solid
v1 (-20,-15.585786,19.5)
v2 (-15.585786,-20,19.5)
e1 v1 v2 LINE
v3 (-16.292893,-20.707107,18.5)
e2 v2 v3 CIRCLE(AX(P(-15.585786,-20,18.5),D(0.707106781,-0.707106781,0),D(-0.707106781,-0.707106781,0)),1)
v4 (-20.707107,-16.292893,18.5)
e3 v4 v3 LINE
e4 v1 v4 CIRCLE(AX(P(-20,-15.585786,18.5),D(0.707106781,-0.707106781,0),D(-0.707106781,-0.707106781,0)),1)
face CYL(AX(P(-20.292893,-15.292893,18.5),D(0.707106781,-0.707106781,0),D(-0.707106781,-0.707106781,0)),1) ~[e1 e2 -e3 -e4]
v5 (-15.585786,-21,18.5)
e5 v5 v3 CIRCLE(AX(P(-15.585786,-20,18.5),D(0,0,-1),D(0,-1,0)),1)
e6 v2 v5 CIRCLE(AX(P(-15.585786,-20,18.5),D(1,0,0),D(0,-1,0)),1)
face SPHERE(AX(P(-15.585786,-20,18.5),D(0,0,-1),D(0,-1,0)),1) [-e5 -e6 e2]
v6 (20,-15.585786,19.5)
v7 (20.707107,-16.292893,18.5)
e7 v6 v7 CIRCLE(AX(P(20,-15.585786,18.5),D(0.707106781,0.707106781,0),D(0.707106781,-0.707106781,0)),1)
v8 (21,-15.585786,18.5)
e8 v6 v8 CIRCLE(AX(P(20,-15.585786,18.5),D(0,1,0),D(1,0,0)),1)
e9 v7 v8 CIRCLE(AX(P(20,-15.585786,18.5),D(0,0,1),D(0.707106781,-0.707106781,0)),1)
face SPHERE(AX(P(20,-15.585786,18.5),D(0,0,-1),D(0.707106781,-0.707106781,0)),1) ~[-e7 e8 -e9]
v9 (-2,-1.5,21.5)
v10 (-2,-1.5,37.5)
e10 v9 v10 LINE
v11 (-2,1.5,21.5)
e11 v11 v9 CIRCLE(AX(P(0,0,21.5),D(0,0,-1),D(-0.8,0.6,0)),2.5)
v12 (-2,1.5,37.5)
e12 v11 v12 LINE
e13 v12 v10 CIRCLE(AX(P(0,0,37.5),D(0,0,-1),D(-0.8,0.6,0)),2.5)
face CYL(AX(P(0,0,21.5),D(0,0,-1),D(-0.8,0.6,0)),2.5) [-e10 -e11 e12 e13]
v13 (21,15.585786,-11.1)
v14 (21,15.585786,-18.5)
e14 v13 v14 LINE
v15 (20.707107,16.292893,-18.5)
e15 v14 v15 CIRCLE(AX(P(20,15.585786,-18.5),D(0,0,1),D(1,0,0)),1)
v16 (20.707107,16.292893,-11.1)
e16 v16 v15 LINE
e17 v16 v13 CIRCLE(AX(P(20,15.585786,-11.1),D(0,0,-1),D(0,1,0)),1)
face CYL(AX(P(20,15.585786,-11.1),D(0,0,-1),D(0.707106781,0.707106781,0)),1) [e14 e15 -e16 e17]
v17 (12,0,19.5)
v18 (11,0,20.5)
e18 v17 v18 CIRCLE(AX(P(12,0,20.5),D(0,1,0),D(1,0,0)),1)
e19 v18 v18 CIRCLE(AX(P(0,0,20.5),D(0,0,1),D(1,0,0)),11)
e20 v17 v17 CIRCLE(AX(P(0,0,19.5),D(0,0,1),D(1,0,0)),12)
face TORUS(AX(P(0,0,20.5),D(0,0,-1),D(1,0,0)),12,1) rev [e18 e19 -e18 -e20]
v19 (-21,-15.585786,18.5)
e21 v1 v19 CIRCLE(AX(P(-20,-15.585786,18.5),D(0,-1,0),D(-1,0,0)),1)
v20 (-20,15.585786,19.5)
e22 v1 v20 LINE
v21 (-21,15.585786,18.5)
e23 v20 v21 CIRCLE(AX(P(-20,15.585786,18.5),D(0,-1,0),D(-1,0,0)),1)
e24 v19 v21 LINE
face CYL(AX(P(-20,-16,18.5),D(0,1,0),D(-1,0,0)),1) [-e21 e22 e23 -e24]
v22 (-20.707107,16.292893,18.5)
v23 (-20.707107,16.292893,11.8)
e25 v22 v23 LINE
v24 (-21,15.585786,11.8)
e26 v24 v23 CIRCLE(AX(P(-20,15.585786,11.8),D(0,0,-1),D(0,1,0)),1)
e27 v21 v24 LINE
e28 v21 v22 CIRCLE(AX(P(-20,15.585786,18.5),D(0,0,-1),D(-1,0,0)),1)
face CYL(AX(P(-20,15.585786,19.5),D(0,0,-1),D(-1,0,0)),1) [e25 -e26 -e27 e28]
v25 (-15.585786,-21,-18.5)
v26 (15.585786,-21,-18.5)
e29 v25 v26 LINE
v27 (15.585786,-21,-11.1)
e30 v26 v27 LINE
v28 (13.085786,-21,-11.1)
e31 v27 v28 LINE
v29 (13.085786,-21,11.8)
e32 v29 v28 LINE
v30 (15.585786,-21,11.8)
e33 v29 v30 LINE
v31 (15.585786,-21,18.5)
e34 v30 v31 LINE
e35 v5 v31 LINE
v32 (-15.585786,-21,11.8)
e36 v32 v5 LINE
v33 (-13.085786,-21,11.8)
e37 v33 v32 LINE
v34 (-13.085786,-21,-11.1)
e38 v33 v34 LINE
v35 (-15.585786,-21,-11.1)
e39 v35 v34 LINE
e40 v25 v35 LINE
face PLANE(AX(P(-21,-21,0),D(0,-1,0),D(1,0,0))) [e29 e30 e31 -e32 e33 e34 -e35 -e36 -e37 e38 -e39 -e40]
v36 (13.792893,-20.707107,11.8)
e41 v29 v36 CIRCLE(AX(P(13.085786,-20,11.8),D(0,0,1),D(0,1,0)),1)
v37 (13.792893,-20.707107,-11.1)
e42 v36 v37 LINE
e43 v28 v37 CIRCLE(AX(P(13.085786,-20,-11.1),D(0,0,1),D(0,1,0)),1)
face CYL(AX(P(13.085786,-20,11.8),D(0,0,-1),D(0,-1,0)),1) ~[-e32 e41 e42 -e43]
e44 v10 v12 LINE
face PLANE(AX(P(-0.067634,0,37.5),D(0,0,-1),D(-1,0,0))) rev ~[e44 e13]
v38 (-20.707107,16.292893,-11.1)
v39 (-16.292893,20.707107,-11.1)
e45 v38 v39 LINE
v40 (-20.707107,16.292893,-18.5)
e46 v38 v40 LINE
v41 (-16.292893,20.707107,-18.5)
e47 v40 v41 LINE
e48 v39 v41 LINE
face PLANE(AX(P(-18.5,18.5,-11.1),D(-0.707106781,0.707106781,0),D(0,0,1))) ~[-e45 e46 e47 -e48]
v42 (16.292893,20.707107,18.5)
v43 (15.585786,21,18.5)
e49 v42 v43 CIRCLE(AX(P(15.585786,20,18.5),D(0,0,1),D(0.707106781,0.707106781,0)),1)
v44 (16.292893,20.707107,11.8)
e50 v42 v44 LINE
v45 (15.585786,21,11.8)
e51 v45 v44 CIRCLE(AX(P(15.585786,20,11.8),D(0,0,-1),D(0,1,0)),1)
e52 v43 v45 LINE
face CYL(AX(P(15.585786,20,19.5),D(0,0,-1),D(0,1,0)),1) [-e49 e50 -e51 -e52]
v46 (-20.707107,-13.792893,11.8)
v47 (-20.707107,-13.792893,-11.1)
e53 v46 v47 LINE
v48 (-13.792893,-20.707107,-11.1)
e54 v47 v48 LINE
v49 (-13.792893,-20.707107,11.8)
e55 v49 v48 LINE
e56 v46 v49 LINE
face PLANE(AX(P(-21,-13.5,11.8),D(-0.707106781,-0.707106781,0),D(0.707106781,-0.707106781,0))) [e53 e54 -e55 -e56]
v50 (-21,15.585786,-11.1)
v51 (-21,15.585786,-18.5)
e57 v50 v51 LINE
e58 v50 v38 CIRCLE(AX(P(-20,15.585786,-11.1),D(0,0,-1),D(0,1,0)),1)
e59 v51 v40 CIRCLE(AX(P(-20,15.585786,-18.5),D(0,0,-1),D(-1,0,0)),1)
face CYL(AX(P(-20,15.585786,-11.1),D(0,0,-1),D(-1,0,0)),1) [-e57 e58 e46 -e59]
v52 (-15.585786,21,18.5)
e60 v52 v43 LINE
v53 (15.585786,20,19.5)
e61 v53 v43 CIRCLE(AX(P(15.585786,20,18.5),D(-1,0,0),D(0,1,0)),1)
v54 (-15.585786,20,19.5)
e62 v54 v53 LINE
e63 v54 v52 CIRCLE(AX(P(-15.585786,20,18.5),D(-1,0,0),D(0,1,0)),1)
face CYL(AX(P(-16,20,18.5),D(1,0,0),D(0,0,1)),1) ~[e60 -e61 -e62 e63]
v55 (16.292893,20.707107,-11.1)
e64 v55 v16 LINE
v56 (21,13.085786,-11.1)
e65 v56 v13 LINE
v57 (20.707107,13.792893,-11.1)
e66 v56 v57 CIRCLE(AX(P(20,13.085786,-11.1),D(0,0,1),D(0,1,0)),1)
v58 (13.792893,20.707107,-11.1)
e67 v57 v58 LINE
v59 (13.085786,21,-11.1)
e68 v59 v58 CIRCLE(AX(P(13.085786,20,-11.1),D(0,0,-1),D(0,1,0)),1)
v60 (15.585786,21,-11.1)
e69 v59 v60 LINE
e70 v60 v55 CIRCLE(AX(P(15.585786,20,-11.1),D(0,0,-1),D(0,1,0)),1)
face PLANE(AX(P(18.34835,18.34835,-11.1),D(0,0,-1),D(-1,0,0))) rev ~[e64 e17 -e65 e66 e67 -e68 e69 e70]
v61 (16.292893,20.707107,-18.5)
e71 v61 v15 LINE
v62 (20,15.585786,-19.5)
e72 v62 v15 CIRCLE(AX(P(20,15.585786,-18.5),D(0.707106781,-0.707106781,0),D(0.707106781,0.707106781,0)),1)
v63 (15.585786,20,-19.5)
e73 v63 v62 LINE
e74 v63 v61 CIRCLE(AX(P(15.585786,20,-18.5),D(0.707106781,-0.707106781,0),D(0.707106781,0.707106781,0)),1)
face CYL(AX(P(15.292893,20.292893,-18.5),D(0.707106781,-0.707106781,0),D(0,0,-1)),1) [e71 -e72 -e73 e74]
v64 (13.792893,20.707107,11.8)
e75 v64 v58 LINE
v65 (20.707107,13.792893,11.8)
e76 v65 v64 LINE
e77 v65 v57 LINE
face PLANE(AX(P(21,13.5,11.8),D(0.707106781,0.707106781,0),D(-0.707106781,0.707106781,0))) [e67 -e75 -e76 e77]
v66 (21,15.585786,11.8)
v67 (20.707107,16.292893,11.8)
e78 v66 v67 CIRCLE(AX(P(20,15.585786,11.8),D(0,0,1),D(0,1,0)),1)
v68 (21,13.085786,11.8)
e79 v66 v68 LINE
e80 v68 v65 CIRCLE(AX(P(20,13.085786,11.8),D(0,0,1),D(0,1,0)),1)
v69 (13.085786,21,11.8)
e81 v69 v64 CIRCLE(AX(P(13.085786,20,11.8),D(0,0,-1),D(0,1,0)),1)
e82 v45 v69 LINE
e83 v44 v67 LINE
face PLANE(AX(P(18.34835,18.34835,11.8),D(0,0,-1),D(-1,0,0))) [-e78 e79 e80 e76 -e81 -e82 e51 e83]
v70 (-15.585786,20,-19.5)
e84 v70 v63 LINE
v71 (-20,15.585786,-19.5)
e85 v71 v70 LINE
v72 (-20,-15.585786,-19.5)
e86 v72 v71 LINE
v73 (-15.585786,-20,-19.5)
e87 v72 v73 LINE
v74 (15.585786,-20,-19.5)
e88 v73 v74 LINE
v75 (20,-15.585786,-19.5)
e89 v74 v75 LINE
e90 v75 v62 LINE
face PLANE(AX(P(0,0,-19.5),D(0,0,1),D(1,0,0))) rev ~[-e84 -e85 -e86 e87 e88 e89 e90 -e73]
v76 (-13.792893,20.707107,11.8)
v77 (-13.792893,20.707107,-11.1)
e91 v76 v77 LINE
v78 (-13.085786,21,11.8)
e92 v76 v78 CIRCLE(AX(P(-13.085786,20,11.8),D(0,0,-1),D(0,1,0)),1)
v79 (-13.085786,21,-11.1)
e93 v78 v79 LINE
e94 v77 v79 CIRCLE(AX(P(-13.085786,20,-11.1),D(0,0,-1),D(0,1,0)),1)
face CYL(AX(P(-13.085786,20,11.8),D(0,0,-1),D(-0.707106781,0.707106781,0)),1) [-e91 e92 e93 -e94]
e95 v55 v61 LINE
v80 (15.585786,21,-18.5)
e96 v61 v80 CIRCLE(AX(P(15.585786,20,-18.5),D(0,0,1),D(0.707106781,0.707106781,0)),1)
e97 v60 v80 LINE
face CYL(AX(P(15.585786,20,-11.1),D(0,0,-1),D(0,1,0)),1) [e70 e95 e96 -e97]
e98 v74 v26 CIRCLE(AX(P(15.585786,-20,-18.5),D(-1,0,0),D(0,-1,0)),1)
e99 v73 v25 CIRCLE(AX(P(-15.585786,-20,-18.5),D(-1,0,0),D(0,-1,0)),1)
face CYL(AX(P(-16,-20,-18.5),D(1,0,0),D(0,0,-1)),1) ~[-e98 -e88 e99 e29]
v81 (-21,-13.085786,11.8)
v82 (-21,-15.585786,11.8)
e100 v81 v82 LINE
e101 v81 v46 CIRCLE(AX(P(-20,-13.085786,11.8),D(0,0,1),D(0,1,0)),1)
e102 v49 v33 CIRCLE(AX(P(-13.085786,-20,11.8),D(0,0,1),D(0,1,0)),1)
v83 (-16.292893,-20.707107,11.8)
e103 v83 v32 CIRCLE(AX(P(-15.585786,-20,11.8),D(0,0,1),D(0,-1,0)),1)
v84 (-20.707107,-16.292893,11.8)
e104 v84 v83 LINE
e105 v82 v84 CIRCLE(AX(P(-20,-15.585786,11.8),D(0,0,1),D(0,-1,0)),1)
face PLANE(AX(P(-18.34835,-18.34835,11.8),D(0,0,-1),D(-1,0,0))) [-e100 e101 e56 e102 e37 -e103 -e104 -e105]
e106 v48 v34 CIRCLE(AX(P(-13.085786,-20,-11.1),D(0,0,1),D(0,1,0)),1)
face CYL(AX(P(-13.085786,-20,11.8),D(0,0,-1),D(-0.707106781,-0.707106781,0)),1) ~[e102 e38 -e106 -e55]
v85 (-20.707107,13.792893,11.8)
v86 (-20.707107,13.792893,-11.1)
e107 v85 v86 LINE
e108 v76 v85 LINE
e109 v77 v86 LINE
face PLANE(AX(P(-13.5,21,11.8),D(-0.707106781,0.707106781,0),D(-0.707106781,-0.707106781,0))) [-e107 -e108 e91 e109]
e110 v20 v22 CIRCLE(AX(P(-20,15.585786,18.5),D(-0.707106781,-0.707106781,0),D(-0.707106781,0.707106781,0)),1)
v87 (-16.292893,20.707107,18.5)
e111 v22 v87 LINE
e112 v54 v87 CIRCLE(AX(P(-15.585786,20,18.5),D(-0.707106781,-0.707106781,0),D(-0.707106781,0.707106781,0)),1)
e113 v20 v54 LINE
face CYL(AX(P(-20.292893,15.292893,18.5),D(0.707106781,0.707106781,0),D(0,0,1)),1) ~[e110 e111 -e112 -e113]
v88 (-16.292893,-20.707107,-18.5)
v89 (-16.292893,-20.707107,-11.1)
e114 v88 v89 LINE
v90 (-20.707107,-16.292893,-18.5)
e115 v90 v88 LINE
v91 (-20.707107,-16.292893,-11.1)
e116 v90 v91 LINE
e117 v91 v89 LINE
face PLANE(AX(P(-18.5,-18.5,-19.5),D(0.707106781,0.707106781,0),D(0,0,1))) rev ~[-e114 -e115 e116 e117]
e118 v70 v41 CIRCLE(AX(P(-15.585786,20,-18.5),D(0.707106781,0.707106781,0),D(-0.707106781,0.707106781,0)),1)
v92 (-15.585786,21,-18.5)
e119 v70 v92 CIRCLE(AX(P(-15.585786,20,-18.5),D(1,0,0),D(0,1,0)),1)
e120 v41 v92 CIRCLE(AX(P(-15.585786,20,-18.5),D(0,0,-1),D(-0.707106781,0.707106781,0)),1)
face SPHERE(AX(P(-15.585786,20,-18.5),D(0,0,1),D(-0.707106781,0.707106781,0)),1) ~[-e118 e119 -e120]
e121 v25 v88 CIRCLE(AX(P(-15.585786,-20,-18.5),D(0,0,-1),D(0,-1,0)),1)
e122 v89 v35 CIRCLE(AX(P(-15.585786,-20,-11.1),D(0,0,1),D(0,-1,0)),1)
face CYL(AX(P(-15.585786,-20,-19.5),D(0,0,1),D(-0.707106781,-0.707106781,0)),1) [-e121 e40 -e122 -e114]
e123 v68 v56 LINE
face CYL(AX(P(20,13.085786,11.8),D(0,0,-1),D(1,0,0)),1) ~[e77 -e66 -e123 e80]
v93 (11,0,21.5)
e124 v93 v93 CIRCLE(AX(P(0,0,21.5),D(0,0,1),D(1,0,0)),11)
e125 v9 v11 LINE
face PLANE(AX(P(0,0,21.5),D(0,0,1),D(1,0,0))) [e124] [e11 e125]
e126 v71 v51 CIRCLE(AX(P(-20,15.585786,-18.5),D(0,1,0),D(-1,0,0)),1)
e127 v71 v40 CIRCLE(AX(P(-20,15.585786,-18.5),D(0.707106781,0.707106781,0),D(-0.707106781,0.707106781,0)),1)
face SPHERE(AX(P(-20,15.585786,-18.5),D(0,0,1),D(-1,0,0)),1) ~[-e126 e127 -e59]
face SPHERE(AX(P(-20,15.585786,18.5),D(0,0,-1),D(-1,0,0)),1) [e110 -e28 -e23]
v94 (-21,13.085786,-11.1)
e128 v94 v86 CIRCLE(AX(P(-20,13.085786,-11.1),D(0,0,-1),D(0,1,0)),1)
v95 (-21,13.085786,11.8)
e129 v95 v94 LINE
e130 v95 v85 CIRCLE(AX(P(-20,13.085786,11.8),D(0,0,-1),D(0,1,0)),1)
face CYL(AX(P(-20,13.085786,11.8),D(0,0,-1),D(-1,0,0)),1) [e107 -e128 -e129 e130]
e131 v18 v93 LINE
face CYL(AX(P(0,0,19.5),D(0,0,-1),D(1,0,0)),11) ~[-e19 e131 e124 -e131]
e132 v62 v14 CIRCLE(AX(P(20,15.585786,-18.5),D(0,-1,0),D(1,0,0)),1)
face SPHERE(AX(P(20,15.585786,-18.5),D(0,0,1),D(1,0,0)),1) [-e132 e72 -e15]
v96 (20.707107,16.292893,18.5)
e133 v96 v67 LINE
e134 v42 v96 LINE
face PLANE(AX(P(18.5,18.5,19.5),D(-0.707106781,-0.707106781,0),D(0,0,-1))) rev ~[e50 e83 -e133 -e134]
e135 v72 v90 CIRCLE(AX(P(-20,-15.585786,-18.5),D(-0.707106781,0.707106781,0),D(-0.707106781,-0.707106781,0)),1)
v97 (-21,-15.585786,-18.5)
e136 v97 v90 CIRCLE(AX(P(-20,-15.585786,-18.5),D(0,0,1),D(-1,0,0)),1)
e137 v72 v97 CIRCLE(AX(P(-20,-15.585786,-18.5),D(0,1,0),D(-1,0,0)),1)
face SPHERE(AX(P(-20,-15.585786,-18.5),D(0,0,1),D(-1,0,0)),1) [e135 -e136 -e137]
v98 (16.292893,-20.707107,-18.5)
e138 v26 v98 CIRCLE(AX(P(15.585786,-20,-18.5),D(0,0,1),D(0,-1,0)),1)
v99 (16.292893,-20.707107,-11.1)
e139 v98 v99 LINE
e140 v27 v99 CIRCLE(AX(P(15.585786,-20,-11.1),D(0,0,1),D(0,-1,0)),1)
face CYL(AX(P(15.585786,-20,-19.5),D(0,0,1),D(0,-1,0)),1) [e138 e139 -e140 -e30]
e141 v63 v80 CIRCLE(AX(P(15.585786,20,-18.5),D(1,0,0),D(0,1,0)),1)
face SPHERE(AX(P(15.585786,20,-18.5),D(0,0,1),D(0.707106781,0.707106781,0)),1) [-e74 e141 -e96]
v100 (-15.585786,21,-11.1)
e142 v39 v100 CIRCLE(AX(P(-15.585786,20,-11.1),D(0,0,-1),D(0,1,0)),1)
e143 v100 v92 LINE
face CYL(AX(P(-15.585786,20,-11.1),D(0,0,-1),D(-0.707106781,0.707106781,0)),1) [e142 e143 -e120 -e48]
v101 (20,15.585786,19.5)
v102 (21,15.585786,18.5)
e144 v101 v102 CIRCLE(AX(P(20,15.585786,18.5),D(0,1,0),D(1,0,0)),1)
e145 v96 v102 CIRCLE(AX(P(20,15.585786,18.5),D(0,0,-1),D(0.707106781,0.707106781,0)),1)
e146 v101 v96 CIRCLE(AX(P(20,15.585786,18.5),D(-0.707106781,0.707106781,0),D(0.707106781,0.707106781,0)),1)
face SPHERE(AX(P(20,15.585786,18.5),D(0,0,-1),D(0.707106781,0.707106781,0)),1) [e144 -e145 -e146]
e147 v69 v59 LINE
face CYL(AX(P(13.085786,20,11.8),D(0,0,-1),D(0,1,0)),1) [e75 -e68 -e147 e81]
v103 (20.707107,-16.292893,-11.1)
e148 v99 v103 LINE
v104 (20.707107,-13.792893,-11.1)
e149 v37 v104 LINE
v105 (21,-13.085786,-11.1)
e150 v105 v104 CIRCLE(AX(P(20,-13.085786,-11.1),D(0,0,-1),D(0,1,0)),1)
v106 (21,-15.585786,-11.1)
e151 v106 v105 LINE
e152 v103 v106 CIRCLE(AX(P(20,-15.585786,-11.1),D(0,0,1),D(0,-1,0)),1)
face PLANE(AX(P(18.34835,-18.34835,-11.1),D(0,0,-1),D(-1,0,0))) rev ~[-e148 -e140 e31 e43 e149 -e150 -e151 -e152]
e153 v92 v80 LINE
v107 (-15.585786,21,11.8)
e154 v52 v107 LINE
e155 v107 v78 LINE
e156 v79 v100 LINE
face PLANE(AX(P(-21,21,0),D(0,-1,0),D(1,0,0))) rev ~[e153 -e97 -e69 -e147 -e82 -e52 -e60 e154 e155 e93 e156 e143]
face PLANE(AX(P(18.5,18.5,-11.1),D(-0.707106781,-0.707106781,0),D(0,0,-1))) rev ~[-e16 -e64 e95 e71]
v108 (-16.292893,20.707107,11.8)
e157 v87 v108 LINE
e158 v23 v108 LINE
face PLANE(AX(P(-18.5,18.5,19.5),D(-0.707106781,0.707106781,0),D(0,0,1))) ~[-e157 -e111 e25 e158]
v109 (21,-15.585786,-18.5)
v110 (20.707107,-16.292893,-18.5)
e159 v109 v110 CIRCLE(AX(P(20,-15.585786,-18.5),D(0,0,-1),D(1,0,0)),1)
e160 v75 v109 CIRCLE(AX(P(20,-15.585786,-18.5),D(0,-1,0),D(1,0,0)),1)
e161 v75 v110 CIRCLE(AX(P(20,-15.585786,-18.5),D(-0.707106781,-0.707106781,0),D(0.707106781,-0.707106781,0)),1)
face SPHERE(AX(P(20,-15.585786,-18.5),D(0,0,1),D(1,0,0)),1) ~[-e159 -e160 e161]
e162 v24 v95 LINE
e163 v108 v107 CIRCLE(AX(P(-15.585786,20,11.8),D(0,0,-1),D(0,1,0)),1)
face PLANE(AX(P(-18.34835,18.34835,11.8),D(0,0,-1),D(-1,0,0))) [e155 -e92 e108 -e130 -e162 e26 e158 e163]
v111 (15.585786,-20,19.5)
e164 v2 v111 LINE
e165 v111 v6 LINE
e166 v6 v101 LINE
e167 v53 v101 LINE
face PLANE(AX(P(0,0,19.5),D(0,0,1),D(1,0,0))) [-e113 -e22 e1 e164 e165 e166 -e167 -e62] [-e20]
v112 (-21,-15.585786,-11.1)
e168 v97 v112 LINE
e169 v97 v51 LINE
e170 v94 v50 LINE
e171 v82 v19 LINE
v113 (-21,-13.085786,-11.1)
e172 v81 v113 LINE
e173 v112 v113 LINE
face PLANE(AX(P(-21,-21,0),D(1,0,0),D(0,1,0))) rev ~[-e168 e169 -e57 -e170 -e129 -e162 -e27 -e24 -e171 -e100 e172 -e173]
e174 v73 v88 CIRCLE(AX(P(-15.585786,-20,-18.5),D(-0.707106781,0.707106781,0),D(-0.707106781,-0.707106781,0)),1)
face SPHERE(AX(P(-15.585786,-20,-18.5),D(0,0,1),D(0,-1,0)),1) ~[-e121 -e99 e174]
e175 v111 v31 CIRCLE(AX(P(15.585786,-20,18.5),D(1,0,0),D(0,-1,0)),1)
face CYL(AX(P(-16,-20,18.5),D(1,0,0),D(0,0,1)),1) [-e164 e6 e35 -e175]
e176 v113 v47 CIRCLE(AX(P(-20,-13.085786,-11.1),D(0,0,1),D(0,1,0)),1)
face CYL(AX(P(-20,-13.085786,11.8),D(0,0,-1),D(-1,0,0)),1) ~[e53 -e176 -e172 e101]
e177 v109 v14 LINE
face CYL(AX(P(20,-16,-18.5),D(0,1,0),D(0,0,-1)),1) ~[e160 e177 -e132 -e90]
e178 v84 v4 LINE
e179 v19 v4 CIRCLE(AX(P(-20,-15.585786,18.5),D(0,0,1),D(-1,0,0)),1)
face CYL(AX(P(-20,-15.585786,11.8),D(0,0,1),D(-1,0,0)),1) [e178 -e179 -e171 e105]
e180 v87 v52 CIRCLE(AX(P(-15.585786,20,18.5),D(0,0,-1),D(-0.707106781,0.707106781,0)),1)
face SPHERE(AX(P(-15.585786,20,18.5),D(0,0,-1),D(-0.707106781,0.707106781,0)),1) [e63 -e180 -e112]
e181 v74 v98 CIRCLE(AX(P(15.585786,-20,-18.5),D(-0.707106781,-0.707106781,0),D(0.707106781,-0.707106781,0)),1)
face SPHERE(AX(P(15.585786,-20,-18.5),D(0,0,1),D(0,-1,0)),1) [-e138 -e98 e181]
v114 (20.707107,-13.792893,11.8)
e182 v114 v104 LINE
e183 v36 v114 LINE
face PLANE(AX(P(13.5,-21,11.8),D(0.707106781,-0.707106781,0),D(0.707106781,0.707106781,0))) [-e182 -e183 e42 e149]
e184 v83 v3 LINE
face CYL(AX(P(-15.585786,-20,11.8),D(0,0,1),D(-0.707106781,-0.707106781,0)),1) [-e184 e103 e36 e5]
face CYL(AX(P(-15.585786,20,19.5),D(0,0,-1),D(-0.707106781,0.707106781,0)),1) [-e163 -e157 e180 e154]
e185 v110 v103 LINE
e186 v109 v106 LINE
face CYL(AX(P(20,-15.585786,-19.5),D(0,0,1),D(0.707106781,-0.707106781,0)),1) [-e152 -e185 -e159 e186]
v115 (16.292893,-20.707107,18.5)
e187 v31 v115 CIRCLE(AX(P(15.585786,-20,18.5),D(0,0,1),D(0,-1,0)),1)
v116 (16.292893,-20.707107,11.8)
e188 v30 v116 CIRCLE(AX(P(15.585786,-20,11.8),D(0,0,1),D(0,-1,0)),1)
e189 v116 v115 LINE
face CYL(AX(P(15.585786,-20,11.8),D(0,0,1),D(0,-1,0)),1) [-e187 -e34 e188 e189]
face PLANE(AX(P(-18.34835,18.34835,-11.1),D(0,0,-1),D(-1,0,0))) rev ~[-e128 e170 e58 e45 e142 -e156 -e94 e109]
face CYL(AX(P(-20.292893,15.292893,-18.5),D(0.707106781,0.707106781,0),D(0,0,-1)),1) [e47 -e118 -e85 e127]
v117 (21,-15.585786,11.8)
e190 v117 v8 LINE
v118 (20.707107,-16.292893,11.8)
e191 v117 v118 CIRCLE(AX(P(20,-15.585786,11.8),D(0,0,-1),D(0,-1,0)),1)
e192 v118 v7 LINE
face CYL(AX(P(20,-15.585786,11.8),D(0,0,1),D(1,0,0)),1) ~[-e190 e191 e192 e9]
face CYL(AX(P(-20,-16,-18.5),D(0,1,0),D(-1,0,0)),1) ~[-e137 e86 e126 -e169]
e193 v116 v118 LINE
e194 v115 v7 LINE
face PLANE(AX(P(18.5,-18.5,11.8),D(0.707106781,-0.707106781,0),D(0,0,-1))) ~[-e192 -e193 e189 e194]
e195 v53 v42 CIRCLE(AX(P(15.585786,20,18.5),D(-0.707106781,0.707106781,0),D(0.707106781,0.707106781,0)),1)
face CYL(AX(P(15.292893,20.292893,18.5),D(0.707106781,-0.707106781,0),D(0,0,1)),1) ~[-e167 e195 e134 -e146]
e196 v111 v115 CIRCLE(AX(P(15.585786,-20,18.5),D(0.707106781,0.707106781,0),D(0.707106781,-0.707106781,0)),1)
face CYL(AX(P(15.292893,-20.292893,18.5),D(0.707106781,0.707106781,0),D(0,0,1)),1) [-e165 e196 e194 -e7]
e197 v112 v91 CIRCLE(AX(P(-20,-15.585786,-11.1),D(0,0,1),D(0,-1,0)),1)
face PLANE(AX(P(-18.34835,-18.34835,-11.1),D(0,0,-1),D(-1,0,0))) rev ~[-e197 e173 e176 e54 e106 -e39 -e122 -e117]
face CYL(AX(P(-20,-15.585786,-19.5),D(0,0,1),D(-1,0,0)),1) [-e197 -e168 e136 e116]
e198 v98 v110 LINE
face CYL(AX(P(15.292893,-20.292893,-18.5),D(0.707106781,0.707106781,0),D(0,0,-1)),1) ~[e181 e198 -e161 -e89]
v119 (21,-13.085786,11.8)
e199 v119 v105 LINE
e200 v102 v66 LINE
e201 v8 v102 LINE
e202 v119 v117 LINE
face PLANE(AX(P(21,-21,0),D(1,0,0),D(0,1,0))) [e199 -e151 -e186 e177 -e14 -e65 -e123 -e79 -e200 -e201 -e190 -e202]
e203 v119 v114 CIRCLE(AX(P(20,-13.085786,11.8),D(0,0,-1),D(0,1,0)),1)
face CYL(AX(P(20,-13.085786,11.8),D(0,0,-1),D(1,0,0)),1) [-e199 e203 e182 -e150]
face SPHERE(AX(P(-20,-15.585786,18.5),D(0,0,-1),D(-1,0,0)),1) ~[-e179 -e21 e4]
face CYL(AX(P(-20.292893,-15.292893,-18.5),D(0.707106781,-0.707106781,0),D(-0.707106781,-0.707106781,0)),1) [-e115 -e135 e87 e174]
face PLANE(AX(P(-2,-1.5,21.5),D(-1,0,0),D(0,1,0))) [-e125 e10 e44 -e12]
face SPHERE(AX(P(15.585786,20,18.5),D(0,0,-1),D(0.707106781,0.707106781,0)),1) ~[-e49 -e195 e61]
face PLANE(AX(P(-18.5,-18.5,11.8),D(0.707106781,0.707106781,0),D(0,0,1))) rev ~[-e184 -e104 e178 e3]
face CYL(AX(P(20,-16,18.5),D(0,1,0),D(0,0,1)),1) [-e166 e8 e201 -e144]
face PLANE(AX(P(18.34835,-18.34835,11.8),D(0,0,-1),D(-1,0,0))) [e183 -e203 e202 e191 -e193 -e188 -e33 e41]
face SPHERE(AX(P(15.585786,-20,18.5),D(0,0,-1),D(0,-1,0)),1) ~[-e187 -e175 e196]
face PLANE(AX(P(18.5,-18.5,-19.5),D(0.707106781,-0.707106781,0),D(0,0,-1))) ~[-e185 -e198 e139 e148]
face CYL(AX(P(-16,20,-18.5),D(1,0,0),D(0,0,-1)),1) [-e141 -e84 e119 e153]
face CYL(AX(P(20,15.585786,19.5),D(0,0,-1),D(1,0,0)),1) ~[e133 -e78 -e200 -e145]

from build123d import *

# Parameters (mm, degrees)
SKETCH1_W           = 42
SKETCH1_H           = 42
BOSS_EXTRUDE1_DEPTH = 19.5
CUT_EXTRUDE1_START  = -7.7
CUT_EXTRUDE1_DEPTH  = 22.9
SKETCH3_R           = 11
BOSS_EXTRUDE2_DEPTH = 2
CHAMFER1_SIZE       = 5
FILLET1_R           = 1
BOSS_EXTRUDE3_DEPTH = 16


with BuildPart() as part:
    # Sketch1 → Boss-Extrude1 (new, symmetric)
    with BuildSketch(Plane.XY):
        Rectangle(SKETCH1_W, SKETCH1_H)
    extrude(amount=BOSS_EXTRUDE1_DEPTH, both=True)

    # Sketch2 → Cut-Extrude1 (cut)
    with BuildSketch(Plane.XY.offset(19.5).offset(CUT_EXTRUDE1_START)):
        Polygon((-21, 21), (-13.5, 21), (-21, 13.5), align=None)
        Polygon((13.5, 21), (21, 21), (21, 13.5), align=None)
        Polygon((21, -13.5), (21, -21), (13.5, -21), align=None)
        Polygon((-13.5, -21), (-21, -21), (-21, -13.5), align=None)
    extrude(amount=-CUT_EXTRUDE1_DEPTH, mode=Mode.SUBTRACT)

    # Sketch3 → Boss-Extrude2 (add)
    with BuildSketch(Plane.XY.offset(19.5)):
        Circle(SKETCH3_R)
    extrude(amount=BOSS_EXTRUDE2_DEPTH)

    # Chamfer1
    chamfer1_edges = [part.edges().sort_by_distance(p)[0] for p in [
        (21, -21, -15.3),
        (-21, -21, -15.3),
        (-21, 21, -15.3),
        (21, 21, -15.3),
        (21, -21, 15.65),
        (-21, -21, 15.65),
        (-21, 21, 15.65),
        (21, 21, 15.65),
    ]]
    chamfer(chamfer1_edges, length=CHAMFER1_SIZE)

    # Fillet1
    fillet1_edges = [part.edges().sort_by_distance(p)[0] for p in [
        (-21, -13.5, 0.35),
        (-13.5, -21, 0.35),
        (13.5, -21, 0.35),
        (21, -13.5, 0.35),
        (21, 13.5, 0.35),
        (13.5, 21, 0.35),
        (-21, 13.5, 0.35),
        (-13.5, 21, 0.35),
        (-11, 0, 19.5),
        (0, 21, -19.5),
        (0, 21, 19.5),
        (-16, 21, 15.65),
        (-16, 21, -15.3),
        (16, 21, 15.65),
        (16, 21, -15.3),
        (21, 0, -19.5),
        (0, -21, -19.5),
        (-21, 0, -19.5),
        (-18.5, -18.5, -19.5),
        (-18.5, 18.5, -19.5),
        (18.5, -18.5, -19.5),
        (18.5, 18.5, -19.5),
        (21, 0, 19.5),
        (21, -16, -15.3),
        (21, -16, 15.65),
        (21, 16, 15.65),
        (21, 16, -15.3),
        (-21, 0, 19.5),
        (0, -21, 19.5),
        (-18.5, 18.5, 19.5),
        (-18.5, -18.5, 19.5),
        (18.5, -18.5, 19.5),
        (18.5, 18.5, 19.5),
        (-16, -21, 15.65),
        (-16, -21, -15.3),
        (16, -21, -15.3),
        (16, -21, 15.65),
        (-21, 16, 15.65),
        (-21, -16, 15.65),
        (-21, -16, -15.3),
        (-21, 16, -15.3),
    ]]
    fillet(fillet1_edges, radius=FILLET1_R)

    # Sketch4 → Boss-Extrude3 (add)
    with BuildSketch(Plane.XY.offset(21.5)):
        with BuildLine():
            Line((-2, -1.5), (-2, 1.5))
            ThreePointArc((-2, 1.5), (2.5, 0), (-2, -1.5))
        make_face()
    extrude(amount=BOSS_EXTRUDE3_DEPTH)


solid = part.part
